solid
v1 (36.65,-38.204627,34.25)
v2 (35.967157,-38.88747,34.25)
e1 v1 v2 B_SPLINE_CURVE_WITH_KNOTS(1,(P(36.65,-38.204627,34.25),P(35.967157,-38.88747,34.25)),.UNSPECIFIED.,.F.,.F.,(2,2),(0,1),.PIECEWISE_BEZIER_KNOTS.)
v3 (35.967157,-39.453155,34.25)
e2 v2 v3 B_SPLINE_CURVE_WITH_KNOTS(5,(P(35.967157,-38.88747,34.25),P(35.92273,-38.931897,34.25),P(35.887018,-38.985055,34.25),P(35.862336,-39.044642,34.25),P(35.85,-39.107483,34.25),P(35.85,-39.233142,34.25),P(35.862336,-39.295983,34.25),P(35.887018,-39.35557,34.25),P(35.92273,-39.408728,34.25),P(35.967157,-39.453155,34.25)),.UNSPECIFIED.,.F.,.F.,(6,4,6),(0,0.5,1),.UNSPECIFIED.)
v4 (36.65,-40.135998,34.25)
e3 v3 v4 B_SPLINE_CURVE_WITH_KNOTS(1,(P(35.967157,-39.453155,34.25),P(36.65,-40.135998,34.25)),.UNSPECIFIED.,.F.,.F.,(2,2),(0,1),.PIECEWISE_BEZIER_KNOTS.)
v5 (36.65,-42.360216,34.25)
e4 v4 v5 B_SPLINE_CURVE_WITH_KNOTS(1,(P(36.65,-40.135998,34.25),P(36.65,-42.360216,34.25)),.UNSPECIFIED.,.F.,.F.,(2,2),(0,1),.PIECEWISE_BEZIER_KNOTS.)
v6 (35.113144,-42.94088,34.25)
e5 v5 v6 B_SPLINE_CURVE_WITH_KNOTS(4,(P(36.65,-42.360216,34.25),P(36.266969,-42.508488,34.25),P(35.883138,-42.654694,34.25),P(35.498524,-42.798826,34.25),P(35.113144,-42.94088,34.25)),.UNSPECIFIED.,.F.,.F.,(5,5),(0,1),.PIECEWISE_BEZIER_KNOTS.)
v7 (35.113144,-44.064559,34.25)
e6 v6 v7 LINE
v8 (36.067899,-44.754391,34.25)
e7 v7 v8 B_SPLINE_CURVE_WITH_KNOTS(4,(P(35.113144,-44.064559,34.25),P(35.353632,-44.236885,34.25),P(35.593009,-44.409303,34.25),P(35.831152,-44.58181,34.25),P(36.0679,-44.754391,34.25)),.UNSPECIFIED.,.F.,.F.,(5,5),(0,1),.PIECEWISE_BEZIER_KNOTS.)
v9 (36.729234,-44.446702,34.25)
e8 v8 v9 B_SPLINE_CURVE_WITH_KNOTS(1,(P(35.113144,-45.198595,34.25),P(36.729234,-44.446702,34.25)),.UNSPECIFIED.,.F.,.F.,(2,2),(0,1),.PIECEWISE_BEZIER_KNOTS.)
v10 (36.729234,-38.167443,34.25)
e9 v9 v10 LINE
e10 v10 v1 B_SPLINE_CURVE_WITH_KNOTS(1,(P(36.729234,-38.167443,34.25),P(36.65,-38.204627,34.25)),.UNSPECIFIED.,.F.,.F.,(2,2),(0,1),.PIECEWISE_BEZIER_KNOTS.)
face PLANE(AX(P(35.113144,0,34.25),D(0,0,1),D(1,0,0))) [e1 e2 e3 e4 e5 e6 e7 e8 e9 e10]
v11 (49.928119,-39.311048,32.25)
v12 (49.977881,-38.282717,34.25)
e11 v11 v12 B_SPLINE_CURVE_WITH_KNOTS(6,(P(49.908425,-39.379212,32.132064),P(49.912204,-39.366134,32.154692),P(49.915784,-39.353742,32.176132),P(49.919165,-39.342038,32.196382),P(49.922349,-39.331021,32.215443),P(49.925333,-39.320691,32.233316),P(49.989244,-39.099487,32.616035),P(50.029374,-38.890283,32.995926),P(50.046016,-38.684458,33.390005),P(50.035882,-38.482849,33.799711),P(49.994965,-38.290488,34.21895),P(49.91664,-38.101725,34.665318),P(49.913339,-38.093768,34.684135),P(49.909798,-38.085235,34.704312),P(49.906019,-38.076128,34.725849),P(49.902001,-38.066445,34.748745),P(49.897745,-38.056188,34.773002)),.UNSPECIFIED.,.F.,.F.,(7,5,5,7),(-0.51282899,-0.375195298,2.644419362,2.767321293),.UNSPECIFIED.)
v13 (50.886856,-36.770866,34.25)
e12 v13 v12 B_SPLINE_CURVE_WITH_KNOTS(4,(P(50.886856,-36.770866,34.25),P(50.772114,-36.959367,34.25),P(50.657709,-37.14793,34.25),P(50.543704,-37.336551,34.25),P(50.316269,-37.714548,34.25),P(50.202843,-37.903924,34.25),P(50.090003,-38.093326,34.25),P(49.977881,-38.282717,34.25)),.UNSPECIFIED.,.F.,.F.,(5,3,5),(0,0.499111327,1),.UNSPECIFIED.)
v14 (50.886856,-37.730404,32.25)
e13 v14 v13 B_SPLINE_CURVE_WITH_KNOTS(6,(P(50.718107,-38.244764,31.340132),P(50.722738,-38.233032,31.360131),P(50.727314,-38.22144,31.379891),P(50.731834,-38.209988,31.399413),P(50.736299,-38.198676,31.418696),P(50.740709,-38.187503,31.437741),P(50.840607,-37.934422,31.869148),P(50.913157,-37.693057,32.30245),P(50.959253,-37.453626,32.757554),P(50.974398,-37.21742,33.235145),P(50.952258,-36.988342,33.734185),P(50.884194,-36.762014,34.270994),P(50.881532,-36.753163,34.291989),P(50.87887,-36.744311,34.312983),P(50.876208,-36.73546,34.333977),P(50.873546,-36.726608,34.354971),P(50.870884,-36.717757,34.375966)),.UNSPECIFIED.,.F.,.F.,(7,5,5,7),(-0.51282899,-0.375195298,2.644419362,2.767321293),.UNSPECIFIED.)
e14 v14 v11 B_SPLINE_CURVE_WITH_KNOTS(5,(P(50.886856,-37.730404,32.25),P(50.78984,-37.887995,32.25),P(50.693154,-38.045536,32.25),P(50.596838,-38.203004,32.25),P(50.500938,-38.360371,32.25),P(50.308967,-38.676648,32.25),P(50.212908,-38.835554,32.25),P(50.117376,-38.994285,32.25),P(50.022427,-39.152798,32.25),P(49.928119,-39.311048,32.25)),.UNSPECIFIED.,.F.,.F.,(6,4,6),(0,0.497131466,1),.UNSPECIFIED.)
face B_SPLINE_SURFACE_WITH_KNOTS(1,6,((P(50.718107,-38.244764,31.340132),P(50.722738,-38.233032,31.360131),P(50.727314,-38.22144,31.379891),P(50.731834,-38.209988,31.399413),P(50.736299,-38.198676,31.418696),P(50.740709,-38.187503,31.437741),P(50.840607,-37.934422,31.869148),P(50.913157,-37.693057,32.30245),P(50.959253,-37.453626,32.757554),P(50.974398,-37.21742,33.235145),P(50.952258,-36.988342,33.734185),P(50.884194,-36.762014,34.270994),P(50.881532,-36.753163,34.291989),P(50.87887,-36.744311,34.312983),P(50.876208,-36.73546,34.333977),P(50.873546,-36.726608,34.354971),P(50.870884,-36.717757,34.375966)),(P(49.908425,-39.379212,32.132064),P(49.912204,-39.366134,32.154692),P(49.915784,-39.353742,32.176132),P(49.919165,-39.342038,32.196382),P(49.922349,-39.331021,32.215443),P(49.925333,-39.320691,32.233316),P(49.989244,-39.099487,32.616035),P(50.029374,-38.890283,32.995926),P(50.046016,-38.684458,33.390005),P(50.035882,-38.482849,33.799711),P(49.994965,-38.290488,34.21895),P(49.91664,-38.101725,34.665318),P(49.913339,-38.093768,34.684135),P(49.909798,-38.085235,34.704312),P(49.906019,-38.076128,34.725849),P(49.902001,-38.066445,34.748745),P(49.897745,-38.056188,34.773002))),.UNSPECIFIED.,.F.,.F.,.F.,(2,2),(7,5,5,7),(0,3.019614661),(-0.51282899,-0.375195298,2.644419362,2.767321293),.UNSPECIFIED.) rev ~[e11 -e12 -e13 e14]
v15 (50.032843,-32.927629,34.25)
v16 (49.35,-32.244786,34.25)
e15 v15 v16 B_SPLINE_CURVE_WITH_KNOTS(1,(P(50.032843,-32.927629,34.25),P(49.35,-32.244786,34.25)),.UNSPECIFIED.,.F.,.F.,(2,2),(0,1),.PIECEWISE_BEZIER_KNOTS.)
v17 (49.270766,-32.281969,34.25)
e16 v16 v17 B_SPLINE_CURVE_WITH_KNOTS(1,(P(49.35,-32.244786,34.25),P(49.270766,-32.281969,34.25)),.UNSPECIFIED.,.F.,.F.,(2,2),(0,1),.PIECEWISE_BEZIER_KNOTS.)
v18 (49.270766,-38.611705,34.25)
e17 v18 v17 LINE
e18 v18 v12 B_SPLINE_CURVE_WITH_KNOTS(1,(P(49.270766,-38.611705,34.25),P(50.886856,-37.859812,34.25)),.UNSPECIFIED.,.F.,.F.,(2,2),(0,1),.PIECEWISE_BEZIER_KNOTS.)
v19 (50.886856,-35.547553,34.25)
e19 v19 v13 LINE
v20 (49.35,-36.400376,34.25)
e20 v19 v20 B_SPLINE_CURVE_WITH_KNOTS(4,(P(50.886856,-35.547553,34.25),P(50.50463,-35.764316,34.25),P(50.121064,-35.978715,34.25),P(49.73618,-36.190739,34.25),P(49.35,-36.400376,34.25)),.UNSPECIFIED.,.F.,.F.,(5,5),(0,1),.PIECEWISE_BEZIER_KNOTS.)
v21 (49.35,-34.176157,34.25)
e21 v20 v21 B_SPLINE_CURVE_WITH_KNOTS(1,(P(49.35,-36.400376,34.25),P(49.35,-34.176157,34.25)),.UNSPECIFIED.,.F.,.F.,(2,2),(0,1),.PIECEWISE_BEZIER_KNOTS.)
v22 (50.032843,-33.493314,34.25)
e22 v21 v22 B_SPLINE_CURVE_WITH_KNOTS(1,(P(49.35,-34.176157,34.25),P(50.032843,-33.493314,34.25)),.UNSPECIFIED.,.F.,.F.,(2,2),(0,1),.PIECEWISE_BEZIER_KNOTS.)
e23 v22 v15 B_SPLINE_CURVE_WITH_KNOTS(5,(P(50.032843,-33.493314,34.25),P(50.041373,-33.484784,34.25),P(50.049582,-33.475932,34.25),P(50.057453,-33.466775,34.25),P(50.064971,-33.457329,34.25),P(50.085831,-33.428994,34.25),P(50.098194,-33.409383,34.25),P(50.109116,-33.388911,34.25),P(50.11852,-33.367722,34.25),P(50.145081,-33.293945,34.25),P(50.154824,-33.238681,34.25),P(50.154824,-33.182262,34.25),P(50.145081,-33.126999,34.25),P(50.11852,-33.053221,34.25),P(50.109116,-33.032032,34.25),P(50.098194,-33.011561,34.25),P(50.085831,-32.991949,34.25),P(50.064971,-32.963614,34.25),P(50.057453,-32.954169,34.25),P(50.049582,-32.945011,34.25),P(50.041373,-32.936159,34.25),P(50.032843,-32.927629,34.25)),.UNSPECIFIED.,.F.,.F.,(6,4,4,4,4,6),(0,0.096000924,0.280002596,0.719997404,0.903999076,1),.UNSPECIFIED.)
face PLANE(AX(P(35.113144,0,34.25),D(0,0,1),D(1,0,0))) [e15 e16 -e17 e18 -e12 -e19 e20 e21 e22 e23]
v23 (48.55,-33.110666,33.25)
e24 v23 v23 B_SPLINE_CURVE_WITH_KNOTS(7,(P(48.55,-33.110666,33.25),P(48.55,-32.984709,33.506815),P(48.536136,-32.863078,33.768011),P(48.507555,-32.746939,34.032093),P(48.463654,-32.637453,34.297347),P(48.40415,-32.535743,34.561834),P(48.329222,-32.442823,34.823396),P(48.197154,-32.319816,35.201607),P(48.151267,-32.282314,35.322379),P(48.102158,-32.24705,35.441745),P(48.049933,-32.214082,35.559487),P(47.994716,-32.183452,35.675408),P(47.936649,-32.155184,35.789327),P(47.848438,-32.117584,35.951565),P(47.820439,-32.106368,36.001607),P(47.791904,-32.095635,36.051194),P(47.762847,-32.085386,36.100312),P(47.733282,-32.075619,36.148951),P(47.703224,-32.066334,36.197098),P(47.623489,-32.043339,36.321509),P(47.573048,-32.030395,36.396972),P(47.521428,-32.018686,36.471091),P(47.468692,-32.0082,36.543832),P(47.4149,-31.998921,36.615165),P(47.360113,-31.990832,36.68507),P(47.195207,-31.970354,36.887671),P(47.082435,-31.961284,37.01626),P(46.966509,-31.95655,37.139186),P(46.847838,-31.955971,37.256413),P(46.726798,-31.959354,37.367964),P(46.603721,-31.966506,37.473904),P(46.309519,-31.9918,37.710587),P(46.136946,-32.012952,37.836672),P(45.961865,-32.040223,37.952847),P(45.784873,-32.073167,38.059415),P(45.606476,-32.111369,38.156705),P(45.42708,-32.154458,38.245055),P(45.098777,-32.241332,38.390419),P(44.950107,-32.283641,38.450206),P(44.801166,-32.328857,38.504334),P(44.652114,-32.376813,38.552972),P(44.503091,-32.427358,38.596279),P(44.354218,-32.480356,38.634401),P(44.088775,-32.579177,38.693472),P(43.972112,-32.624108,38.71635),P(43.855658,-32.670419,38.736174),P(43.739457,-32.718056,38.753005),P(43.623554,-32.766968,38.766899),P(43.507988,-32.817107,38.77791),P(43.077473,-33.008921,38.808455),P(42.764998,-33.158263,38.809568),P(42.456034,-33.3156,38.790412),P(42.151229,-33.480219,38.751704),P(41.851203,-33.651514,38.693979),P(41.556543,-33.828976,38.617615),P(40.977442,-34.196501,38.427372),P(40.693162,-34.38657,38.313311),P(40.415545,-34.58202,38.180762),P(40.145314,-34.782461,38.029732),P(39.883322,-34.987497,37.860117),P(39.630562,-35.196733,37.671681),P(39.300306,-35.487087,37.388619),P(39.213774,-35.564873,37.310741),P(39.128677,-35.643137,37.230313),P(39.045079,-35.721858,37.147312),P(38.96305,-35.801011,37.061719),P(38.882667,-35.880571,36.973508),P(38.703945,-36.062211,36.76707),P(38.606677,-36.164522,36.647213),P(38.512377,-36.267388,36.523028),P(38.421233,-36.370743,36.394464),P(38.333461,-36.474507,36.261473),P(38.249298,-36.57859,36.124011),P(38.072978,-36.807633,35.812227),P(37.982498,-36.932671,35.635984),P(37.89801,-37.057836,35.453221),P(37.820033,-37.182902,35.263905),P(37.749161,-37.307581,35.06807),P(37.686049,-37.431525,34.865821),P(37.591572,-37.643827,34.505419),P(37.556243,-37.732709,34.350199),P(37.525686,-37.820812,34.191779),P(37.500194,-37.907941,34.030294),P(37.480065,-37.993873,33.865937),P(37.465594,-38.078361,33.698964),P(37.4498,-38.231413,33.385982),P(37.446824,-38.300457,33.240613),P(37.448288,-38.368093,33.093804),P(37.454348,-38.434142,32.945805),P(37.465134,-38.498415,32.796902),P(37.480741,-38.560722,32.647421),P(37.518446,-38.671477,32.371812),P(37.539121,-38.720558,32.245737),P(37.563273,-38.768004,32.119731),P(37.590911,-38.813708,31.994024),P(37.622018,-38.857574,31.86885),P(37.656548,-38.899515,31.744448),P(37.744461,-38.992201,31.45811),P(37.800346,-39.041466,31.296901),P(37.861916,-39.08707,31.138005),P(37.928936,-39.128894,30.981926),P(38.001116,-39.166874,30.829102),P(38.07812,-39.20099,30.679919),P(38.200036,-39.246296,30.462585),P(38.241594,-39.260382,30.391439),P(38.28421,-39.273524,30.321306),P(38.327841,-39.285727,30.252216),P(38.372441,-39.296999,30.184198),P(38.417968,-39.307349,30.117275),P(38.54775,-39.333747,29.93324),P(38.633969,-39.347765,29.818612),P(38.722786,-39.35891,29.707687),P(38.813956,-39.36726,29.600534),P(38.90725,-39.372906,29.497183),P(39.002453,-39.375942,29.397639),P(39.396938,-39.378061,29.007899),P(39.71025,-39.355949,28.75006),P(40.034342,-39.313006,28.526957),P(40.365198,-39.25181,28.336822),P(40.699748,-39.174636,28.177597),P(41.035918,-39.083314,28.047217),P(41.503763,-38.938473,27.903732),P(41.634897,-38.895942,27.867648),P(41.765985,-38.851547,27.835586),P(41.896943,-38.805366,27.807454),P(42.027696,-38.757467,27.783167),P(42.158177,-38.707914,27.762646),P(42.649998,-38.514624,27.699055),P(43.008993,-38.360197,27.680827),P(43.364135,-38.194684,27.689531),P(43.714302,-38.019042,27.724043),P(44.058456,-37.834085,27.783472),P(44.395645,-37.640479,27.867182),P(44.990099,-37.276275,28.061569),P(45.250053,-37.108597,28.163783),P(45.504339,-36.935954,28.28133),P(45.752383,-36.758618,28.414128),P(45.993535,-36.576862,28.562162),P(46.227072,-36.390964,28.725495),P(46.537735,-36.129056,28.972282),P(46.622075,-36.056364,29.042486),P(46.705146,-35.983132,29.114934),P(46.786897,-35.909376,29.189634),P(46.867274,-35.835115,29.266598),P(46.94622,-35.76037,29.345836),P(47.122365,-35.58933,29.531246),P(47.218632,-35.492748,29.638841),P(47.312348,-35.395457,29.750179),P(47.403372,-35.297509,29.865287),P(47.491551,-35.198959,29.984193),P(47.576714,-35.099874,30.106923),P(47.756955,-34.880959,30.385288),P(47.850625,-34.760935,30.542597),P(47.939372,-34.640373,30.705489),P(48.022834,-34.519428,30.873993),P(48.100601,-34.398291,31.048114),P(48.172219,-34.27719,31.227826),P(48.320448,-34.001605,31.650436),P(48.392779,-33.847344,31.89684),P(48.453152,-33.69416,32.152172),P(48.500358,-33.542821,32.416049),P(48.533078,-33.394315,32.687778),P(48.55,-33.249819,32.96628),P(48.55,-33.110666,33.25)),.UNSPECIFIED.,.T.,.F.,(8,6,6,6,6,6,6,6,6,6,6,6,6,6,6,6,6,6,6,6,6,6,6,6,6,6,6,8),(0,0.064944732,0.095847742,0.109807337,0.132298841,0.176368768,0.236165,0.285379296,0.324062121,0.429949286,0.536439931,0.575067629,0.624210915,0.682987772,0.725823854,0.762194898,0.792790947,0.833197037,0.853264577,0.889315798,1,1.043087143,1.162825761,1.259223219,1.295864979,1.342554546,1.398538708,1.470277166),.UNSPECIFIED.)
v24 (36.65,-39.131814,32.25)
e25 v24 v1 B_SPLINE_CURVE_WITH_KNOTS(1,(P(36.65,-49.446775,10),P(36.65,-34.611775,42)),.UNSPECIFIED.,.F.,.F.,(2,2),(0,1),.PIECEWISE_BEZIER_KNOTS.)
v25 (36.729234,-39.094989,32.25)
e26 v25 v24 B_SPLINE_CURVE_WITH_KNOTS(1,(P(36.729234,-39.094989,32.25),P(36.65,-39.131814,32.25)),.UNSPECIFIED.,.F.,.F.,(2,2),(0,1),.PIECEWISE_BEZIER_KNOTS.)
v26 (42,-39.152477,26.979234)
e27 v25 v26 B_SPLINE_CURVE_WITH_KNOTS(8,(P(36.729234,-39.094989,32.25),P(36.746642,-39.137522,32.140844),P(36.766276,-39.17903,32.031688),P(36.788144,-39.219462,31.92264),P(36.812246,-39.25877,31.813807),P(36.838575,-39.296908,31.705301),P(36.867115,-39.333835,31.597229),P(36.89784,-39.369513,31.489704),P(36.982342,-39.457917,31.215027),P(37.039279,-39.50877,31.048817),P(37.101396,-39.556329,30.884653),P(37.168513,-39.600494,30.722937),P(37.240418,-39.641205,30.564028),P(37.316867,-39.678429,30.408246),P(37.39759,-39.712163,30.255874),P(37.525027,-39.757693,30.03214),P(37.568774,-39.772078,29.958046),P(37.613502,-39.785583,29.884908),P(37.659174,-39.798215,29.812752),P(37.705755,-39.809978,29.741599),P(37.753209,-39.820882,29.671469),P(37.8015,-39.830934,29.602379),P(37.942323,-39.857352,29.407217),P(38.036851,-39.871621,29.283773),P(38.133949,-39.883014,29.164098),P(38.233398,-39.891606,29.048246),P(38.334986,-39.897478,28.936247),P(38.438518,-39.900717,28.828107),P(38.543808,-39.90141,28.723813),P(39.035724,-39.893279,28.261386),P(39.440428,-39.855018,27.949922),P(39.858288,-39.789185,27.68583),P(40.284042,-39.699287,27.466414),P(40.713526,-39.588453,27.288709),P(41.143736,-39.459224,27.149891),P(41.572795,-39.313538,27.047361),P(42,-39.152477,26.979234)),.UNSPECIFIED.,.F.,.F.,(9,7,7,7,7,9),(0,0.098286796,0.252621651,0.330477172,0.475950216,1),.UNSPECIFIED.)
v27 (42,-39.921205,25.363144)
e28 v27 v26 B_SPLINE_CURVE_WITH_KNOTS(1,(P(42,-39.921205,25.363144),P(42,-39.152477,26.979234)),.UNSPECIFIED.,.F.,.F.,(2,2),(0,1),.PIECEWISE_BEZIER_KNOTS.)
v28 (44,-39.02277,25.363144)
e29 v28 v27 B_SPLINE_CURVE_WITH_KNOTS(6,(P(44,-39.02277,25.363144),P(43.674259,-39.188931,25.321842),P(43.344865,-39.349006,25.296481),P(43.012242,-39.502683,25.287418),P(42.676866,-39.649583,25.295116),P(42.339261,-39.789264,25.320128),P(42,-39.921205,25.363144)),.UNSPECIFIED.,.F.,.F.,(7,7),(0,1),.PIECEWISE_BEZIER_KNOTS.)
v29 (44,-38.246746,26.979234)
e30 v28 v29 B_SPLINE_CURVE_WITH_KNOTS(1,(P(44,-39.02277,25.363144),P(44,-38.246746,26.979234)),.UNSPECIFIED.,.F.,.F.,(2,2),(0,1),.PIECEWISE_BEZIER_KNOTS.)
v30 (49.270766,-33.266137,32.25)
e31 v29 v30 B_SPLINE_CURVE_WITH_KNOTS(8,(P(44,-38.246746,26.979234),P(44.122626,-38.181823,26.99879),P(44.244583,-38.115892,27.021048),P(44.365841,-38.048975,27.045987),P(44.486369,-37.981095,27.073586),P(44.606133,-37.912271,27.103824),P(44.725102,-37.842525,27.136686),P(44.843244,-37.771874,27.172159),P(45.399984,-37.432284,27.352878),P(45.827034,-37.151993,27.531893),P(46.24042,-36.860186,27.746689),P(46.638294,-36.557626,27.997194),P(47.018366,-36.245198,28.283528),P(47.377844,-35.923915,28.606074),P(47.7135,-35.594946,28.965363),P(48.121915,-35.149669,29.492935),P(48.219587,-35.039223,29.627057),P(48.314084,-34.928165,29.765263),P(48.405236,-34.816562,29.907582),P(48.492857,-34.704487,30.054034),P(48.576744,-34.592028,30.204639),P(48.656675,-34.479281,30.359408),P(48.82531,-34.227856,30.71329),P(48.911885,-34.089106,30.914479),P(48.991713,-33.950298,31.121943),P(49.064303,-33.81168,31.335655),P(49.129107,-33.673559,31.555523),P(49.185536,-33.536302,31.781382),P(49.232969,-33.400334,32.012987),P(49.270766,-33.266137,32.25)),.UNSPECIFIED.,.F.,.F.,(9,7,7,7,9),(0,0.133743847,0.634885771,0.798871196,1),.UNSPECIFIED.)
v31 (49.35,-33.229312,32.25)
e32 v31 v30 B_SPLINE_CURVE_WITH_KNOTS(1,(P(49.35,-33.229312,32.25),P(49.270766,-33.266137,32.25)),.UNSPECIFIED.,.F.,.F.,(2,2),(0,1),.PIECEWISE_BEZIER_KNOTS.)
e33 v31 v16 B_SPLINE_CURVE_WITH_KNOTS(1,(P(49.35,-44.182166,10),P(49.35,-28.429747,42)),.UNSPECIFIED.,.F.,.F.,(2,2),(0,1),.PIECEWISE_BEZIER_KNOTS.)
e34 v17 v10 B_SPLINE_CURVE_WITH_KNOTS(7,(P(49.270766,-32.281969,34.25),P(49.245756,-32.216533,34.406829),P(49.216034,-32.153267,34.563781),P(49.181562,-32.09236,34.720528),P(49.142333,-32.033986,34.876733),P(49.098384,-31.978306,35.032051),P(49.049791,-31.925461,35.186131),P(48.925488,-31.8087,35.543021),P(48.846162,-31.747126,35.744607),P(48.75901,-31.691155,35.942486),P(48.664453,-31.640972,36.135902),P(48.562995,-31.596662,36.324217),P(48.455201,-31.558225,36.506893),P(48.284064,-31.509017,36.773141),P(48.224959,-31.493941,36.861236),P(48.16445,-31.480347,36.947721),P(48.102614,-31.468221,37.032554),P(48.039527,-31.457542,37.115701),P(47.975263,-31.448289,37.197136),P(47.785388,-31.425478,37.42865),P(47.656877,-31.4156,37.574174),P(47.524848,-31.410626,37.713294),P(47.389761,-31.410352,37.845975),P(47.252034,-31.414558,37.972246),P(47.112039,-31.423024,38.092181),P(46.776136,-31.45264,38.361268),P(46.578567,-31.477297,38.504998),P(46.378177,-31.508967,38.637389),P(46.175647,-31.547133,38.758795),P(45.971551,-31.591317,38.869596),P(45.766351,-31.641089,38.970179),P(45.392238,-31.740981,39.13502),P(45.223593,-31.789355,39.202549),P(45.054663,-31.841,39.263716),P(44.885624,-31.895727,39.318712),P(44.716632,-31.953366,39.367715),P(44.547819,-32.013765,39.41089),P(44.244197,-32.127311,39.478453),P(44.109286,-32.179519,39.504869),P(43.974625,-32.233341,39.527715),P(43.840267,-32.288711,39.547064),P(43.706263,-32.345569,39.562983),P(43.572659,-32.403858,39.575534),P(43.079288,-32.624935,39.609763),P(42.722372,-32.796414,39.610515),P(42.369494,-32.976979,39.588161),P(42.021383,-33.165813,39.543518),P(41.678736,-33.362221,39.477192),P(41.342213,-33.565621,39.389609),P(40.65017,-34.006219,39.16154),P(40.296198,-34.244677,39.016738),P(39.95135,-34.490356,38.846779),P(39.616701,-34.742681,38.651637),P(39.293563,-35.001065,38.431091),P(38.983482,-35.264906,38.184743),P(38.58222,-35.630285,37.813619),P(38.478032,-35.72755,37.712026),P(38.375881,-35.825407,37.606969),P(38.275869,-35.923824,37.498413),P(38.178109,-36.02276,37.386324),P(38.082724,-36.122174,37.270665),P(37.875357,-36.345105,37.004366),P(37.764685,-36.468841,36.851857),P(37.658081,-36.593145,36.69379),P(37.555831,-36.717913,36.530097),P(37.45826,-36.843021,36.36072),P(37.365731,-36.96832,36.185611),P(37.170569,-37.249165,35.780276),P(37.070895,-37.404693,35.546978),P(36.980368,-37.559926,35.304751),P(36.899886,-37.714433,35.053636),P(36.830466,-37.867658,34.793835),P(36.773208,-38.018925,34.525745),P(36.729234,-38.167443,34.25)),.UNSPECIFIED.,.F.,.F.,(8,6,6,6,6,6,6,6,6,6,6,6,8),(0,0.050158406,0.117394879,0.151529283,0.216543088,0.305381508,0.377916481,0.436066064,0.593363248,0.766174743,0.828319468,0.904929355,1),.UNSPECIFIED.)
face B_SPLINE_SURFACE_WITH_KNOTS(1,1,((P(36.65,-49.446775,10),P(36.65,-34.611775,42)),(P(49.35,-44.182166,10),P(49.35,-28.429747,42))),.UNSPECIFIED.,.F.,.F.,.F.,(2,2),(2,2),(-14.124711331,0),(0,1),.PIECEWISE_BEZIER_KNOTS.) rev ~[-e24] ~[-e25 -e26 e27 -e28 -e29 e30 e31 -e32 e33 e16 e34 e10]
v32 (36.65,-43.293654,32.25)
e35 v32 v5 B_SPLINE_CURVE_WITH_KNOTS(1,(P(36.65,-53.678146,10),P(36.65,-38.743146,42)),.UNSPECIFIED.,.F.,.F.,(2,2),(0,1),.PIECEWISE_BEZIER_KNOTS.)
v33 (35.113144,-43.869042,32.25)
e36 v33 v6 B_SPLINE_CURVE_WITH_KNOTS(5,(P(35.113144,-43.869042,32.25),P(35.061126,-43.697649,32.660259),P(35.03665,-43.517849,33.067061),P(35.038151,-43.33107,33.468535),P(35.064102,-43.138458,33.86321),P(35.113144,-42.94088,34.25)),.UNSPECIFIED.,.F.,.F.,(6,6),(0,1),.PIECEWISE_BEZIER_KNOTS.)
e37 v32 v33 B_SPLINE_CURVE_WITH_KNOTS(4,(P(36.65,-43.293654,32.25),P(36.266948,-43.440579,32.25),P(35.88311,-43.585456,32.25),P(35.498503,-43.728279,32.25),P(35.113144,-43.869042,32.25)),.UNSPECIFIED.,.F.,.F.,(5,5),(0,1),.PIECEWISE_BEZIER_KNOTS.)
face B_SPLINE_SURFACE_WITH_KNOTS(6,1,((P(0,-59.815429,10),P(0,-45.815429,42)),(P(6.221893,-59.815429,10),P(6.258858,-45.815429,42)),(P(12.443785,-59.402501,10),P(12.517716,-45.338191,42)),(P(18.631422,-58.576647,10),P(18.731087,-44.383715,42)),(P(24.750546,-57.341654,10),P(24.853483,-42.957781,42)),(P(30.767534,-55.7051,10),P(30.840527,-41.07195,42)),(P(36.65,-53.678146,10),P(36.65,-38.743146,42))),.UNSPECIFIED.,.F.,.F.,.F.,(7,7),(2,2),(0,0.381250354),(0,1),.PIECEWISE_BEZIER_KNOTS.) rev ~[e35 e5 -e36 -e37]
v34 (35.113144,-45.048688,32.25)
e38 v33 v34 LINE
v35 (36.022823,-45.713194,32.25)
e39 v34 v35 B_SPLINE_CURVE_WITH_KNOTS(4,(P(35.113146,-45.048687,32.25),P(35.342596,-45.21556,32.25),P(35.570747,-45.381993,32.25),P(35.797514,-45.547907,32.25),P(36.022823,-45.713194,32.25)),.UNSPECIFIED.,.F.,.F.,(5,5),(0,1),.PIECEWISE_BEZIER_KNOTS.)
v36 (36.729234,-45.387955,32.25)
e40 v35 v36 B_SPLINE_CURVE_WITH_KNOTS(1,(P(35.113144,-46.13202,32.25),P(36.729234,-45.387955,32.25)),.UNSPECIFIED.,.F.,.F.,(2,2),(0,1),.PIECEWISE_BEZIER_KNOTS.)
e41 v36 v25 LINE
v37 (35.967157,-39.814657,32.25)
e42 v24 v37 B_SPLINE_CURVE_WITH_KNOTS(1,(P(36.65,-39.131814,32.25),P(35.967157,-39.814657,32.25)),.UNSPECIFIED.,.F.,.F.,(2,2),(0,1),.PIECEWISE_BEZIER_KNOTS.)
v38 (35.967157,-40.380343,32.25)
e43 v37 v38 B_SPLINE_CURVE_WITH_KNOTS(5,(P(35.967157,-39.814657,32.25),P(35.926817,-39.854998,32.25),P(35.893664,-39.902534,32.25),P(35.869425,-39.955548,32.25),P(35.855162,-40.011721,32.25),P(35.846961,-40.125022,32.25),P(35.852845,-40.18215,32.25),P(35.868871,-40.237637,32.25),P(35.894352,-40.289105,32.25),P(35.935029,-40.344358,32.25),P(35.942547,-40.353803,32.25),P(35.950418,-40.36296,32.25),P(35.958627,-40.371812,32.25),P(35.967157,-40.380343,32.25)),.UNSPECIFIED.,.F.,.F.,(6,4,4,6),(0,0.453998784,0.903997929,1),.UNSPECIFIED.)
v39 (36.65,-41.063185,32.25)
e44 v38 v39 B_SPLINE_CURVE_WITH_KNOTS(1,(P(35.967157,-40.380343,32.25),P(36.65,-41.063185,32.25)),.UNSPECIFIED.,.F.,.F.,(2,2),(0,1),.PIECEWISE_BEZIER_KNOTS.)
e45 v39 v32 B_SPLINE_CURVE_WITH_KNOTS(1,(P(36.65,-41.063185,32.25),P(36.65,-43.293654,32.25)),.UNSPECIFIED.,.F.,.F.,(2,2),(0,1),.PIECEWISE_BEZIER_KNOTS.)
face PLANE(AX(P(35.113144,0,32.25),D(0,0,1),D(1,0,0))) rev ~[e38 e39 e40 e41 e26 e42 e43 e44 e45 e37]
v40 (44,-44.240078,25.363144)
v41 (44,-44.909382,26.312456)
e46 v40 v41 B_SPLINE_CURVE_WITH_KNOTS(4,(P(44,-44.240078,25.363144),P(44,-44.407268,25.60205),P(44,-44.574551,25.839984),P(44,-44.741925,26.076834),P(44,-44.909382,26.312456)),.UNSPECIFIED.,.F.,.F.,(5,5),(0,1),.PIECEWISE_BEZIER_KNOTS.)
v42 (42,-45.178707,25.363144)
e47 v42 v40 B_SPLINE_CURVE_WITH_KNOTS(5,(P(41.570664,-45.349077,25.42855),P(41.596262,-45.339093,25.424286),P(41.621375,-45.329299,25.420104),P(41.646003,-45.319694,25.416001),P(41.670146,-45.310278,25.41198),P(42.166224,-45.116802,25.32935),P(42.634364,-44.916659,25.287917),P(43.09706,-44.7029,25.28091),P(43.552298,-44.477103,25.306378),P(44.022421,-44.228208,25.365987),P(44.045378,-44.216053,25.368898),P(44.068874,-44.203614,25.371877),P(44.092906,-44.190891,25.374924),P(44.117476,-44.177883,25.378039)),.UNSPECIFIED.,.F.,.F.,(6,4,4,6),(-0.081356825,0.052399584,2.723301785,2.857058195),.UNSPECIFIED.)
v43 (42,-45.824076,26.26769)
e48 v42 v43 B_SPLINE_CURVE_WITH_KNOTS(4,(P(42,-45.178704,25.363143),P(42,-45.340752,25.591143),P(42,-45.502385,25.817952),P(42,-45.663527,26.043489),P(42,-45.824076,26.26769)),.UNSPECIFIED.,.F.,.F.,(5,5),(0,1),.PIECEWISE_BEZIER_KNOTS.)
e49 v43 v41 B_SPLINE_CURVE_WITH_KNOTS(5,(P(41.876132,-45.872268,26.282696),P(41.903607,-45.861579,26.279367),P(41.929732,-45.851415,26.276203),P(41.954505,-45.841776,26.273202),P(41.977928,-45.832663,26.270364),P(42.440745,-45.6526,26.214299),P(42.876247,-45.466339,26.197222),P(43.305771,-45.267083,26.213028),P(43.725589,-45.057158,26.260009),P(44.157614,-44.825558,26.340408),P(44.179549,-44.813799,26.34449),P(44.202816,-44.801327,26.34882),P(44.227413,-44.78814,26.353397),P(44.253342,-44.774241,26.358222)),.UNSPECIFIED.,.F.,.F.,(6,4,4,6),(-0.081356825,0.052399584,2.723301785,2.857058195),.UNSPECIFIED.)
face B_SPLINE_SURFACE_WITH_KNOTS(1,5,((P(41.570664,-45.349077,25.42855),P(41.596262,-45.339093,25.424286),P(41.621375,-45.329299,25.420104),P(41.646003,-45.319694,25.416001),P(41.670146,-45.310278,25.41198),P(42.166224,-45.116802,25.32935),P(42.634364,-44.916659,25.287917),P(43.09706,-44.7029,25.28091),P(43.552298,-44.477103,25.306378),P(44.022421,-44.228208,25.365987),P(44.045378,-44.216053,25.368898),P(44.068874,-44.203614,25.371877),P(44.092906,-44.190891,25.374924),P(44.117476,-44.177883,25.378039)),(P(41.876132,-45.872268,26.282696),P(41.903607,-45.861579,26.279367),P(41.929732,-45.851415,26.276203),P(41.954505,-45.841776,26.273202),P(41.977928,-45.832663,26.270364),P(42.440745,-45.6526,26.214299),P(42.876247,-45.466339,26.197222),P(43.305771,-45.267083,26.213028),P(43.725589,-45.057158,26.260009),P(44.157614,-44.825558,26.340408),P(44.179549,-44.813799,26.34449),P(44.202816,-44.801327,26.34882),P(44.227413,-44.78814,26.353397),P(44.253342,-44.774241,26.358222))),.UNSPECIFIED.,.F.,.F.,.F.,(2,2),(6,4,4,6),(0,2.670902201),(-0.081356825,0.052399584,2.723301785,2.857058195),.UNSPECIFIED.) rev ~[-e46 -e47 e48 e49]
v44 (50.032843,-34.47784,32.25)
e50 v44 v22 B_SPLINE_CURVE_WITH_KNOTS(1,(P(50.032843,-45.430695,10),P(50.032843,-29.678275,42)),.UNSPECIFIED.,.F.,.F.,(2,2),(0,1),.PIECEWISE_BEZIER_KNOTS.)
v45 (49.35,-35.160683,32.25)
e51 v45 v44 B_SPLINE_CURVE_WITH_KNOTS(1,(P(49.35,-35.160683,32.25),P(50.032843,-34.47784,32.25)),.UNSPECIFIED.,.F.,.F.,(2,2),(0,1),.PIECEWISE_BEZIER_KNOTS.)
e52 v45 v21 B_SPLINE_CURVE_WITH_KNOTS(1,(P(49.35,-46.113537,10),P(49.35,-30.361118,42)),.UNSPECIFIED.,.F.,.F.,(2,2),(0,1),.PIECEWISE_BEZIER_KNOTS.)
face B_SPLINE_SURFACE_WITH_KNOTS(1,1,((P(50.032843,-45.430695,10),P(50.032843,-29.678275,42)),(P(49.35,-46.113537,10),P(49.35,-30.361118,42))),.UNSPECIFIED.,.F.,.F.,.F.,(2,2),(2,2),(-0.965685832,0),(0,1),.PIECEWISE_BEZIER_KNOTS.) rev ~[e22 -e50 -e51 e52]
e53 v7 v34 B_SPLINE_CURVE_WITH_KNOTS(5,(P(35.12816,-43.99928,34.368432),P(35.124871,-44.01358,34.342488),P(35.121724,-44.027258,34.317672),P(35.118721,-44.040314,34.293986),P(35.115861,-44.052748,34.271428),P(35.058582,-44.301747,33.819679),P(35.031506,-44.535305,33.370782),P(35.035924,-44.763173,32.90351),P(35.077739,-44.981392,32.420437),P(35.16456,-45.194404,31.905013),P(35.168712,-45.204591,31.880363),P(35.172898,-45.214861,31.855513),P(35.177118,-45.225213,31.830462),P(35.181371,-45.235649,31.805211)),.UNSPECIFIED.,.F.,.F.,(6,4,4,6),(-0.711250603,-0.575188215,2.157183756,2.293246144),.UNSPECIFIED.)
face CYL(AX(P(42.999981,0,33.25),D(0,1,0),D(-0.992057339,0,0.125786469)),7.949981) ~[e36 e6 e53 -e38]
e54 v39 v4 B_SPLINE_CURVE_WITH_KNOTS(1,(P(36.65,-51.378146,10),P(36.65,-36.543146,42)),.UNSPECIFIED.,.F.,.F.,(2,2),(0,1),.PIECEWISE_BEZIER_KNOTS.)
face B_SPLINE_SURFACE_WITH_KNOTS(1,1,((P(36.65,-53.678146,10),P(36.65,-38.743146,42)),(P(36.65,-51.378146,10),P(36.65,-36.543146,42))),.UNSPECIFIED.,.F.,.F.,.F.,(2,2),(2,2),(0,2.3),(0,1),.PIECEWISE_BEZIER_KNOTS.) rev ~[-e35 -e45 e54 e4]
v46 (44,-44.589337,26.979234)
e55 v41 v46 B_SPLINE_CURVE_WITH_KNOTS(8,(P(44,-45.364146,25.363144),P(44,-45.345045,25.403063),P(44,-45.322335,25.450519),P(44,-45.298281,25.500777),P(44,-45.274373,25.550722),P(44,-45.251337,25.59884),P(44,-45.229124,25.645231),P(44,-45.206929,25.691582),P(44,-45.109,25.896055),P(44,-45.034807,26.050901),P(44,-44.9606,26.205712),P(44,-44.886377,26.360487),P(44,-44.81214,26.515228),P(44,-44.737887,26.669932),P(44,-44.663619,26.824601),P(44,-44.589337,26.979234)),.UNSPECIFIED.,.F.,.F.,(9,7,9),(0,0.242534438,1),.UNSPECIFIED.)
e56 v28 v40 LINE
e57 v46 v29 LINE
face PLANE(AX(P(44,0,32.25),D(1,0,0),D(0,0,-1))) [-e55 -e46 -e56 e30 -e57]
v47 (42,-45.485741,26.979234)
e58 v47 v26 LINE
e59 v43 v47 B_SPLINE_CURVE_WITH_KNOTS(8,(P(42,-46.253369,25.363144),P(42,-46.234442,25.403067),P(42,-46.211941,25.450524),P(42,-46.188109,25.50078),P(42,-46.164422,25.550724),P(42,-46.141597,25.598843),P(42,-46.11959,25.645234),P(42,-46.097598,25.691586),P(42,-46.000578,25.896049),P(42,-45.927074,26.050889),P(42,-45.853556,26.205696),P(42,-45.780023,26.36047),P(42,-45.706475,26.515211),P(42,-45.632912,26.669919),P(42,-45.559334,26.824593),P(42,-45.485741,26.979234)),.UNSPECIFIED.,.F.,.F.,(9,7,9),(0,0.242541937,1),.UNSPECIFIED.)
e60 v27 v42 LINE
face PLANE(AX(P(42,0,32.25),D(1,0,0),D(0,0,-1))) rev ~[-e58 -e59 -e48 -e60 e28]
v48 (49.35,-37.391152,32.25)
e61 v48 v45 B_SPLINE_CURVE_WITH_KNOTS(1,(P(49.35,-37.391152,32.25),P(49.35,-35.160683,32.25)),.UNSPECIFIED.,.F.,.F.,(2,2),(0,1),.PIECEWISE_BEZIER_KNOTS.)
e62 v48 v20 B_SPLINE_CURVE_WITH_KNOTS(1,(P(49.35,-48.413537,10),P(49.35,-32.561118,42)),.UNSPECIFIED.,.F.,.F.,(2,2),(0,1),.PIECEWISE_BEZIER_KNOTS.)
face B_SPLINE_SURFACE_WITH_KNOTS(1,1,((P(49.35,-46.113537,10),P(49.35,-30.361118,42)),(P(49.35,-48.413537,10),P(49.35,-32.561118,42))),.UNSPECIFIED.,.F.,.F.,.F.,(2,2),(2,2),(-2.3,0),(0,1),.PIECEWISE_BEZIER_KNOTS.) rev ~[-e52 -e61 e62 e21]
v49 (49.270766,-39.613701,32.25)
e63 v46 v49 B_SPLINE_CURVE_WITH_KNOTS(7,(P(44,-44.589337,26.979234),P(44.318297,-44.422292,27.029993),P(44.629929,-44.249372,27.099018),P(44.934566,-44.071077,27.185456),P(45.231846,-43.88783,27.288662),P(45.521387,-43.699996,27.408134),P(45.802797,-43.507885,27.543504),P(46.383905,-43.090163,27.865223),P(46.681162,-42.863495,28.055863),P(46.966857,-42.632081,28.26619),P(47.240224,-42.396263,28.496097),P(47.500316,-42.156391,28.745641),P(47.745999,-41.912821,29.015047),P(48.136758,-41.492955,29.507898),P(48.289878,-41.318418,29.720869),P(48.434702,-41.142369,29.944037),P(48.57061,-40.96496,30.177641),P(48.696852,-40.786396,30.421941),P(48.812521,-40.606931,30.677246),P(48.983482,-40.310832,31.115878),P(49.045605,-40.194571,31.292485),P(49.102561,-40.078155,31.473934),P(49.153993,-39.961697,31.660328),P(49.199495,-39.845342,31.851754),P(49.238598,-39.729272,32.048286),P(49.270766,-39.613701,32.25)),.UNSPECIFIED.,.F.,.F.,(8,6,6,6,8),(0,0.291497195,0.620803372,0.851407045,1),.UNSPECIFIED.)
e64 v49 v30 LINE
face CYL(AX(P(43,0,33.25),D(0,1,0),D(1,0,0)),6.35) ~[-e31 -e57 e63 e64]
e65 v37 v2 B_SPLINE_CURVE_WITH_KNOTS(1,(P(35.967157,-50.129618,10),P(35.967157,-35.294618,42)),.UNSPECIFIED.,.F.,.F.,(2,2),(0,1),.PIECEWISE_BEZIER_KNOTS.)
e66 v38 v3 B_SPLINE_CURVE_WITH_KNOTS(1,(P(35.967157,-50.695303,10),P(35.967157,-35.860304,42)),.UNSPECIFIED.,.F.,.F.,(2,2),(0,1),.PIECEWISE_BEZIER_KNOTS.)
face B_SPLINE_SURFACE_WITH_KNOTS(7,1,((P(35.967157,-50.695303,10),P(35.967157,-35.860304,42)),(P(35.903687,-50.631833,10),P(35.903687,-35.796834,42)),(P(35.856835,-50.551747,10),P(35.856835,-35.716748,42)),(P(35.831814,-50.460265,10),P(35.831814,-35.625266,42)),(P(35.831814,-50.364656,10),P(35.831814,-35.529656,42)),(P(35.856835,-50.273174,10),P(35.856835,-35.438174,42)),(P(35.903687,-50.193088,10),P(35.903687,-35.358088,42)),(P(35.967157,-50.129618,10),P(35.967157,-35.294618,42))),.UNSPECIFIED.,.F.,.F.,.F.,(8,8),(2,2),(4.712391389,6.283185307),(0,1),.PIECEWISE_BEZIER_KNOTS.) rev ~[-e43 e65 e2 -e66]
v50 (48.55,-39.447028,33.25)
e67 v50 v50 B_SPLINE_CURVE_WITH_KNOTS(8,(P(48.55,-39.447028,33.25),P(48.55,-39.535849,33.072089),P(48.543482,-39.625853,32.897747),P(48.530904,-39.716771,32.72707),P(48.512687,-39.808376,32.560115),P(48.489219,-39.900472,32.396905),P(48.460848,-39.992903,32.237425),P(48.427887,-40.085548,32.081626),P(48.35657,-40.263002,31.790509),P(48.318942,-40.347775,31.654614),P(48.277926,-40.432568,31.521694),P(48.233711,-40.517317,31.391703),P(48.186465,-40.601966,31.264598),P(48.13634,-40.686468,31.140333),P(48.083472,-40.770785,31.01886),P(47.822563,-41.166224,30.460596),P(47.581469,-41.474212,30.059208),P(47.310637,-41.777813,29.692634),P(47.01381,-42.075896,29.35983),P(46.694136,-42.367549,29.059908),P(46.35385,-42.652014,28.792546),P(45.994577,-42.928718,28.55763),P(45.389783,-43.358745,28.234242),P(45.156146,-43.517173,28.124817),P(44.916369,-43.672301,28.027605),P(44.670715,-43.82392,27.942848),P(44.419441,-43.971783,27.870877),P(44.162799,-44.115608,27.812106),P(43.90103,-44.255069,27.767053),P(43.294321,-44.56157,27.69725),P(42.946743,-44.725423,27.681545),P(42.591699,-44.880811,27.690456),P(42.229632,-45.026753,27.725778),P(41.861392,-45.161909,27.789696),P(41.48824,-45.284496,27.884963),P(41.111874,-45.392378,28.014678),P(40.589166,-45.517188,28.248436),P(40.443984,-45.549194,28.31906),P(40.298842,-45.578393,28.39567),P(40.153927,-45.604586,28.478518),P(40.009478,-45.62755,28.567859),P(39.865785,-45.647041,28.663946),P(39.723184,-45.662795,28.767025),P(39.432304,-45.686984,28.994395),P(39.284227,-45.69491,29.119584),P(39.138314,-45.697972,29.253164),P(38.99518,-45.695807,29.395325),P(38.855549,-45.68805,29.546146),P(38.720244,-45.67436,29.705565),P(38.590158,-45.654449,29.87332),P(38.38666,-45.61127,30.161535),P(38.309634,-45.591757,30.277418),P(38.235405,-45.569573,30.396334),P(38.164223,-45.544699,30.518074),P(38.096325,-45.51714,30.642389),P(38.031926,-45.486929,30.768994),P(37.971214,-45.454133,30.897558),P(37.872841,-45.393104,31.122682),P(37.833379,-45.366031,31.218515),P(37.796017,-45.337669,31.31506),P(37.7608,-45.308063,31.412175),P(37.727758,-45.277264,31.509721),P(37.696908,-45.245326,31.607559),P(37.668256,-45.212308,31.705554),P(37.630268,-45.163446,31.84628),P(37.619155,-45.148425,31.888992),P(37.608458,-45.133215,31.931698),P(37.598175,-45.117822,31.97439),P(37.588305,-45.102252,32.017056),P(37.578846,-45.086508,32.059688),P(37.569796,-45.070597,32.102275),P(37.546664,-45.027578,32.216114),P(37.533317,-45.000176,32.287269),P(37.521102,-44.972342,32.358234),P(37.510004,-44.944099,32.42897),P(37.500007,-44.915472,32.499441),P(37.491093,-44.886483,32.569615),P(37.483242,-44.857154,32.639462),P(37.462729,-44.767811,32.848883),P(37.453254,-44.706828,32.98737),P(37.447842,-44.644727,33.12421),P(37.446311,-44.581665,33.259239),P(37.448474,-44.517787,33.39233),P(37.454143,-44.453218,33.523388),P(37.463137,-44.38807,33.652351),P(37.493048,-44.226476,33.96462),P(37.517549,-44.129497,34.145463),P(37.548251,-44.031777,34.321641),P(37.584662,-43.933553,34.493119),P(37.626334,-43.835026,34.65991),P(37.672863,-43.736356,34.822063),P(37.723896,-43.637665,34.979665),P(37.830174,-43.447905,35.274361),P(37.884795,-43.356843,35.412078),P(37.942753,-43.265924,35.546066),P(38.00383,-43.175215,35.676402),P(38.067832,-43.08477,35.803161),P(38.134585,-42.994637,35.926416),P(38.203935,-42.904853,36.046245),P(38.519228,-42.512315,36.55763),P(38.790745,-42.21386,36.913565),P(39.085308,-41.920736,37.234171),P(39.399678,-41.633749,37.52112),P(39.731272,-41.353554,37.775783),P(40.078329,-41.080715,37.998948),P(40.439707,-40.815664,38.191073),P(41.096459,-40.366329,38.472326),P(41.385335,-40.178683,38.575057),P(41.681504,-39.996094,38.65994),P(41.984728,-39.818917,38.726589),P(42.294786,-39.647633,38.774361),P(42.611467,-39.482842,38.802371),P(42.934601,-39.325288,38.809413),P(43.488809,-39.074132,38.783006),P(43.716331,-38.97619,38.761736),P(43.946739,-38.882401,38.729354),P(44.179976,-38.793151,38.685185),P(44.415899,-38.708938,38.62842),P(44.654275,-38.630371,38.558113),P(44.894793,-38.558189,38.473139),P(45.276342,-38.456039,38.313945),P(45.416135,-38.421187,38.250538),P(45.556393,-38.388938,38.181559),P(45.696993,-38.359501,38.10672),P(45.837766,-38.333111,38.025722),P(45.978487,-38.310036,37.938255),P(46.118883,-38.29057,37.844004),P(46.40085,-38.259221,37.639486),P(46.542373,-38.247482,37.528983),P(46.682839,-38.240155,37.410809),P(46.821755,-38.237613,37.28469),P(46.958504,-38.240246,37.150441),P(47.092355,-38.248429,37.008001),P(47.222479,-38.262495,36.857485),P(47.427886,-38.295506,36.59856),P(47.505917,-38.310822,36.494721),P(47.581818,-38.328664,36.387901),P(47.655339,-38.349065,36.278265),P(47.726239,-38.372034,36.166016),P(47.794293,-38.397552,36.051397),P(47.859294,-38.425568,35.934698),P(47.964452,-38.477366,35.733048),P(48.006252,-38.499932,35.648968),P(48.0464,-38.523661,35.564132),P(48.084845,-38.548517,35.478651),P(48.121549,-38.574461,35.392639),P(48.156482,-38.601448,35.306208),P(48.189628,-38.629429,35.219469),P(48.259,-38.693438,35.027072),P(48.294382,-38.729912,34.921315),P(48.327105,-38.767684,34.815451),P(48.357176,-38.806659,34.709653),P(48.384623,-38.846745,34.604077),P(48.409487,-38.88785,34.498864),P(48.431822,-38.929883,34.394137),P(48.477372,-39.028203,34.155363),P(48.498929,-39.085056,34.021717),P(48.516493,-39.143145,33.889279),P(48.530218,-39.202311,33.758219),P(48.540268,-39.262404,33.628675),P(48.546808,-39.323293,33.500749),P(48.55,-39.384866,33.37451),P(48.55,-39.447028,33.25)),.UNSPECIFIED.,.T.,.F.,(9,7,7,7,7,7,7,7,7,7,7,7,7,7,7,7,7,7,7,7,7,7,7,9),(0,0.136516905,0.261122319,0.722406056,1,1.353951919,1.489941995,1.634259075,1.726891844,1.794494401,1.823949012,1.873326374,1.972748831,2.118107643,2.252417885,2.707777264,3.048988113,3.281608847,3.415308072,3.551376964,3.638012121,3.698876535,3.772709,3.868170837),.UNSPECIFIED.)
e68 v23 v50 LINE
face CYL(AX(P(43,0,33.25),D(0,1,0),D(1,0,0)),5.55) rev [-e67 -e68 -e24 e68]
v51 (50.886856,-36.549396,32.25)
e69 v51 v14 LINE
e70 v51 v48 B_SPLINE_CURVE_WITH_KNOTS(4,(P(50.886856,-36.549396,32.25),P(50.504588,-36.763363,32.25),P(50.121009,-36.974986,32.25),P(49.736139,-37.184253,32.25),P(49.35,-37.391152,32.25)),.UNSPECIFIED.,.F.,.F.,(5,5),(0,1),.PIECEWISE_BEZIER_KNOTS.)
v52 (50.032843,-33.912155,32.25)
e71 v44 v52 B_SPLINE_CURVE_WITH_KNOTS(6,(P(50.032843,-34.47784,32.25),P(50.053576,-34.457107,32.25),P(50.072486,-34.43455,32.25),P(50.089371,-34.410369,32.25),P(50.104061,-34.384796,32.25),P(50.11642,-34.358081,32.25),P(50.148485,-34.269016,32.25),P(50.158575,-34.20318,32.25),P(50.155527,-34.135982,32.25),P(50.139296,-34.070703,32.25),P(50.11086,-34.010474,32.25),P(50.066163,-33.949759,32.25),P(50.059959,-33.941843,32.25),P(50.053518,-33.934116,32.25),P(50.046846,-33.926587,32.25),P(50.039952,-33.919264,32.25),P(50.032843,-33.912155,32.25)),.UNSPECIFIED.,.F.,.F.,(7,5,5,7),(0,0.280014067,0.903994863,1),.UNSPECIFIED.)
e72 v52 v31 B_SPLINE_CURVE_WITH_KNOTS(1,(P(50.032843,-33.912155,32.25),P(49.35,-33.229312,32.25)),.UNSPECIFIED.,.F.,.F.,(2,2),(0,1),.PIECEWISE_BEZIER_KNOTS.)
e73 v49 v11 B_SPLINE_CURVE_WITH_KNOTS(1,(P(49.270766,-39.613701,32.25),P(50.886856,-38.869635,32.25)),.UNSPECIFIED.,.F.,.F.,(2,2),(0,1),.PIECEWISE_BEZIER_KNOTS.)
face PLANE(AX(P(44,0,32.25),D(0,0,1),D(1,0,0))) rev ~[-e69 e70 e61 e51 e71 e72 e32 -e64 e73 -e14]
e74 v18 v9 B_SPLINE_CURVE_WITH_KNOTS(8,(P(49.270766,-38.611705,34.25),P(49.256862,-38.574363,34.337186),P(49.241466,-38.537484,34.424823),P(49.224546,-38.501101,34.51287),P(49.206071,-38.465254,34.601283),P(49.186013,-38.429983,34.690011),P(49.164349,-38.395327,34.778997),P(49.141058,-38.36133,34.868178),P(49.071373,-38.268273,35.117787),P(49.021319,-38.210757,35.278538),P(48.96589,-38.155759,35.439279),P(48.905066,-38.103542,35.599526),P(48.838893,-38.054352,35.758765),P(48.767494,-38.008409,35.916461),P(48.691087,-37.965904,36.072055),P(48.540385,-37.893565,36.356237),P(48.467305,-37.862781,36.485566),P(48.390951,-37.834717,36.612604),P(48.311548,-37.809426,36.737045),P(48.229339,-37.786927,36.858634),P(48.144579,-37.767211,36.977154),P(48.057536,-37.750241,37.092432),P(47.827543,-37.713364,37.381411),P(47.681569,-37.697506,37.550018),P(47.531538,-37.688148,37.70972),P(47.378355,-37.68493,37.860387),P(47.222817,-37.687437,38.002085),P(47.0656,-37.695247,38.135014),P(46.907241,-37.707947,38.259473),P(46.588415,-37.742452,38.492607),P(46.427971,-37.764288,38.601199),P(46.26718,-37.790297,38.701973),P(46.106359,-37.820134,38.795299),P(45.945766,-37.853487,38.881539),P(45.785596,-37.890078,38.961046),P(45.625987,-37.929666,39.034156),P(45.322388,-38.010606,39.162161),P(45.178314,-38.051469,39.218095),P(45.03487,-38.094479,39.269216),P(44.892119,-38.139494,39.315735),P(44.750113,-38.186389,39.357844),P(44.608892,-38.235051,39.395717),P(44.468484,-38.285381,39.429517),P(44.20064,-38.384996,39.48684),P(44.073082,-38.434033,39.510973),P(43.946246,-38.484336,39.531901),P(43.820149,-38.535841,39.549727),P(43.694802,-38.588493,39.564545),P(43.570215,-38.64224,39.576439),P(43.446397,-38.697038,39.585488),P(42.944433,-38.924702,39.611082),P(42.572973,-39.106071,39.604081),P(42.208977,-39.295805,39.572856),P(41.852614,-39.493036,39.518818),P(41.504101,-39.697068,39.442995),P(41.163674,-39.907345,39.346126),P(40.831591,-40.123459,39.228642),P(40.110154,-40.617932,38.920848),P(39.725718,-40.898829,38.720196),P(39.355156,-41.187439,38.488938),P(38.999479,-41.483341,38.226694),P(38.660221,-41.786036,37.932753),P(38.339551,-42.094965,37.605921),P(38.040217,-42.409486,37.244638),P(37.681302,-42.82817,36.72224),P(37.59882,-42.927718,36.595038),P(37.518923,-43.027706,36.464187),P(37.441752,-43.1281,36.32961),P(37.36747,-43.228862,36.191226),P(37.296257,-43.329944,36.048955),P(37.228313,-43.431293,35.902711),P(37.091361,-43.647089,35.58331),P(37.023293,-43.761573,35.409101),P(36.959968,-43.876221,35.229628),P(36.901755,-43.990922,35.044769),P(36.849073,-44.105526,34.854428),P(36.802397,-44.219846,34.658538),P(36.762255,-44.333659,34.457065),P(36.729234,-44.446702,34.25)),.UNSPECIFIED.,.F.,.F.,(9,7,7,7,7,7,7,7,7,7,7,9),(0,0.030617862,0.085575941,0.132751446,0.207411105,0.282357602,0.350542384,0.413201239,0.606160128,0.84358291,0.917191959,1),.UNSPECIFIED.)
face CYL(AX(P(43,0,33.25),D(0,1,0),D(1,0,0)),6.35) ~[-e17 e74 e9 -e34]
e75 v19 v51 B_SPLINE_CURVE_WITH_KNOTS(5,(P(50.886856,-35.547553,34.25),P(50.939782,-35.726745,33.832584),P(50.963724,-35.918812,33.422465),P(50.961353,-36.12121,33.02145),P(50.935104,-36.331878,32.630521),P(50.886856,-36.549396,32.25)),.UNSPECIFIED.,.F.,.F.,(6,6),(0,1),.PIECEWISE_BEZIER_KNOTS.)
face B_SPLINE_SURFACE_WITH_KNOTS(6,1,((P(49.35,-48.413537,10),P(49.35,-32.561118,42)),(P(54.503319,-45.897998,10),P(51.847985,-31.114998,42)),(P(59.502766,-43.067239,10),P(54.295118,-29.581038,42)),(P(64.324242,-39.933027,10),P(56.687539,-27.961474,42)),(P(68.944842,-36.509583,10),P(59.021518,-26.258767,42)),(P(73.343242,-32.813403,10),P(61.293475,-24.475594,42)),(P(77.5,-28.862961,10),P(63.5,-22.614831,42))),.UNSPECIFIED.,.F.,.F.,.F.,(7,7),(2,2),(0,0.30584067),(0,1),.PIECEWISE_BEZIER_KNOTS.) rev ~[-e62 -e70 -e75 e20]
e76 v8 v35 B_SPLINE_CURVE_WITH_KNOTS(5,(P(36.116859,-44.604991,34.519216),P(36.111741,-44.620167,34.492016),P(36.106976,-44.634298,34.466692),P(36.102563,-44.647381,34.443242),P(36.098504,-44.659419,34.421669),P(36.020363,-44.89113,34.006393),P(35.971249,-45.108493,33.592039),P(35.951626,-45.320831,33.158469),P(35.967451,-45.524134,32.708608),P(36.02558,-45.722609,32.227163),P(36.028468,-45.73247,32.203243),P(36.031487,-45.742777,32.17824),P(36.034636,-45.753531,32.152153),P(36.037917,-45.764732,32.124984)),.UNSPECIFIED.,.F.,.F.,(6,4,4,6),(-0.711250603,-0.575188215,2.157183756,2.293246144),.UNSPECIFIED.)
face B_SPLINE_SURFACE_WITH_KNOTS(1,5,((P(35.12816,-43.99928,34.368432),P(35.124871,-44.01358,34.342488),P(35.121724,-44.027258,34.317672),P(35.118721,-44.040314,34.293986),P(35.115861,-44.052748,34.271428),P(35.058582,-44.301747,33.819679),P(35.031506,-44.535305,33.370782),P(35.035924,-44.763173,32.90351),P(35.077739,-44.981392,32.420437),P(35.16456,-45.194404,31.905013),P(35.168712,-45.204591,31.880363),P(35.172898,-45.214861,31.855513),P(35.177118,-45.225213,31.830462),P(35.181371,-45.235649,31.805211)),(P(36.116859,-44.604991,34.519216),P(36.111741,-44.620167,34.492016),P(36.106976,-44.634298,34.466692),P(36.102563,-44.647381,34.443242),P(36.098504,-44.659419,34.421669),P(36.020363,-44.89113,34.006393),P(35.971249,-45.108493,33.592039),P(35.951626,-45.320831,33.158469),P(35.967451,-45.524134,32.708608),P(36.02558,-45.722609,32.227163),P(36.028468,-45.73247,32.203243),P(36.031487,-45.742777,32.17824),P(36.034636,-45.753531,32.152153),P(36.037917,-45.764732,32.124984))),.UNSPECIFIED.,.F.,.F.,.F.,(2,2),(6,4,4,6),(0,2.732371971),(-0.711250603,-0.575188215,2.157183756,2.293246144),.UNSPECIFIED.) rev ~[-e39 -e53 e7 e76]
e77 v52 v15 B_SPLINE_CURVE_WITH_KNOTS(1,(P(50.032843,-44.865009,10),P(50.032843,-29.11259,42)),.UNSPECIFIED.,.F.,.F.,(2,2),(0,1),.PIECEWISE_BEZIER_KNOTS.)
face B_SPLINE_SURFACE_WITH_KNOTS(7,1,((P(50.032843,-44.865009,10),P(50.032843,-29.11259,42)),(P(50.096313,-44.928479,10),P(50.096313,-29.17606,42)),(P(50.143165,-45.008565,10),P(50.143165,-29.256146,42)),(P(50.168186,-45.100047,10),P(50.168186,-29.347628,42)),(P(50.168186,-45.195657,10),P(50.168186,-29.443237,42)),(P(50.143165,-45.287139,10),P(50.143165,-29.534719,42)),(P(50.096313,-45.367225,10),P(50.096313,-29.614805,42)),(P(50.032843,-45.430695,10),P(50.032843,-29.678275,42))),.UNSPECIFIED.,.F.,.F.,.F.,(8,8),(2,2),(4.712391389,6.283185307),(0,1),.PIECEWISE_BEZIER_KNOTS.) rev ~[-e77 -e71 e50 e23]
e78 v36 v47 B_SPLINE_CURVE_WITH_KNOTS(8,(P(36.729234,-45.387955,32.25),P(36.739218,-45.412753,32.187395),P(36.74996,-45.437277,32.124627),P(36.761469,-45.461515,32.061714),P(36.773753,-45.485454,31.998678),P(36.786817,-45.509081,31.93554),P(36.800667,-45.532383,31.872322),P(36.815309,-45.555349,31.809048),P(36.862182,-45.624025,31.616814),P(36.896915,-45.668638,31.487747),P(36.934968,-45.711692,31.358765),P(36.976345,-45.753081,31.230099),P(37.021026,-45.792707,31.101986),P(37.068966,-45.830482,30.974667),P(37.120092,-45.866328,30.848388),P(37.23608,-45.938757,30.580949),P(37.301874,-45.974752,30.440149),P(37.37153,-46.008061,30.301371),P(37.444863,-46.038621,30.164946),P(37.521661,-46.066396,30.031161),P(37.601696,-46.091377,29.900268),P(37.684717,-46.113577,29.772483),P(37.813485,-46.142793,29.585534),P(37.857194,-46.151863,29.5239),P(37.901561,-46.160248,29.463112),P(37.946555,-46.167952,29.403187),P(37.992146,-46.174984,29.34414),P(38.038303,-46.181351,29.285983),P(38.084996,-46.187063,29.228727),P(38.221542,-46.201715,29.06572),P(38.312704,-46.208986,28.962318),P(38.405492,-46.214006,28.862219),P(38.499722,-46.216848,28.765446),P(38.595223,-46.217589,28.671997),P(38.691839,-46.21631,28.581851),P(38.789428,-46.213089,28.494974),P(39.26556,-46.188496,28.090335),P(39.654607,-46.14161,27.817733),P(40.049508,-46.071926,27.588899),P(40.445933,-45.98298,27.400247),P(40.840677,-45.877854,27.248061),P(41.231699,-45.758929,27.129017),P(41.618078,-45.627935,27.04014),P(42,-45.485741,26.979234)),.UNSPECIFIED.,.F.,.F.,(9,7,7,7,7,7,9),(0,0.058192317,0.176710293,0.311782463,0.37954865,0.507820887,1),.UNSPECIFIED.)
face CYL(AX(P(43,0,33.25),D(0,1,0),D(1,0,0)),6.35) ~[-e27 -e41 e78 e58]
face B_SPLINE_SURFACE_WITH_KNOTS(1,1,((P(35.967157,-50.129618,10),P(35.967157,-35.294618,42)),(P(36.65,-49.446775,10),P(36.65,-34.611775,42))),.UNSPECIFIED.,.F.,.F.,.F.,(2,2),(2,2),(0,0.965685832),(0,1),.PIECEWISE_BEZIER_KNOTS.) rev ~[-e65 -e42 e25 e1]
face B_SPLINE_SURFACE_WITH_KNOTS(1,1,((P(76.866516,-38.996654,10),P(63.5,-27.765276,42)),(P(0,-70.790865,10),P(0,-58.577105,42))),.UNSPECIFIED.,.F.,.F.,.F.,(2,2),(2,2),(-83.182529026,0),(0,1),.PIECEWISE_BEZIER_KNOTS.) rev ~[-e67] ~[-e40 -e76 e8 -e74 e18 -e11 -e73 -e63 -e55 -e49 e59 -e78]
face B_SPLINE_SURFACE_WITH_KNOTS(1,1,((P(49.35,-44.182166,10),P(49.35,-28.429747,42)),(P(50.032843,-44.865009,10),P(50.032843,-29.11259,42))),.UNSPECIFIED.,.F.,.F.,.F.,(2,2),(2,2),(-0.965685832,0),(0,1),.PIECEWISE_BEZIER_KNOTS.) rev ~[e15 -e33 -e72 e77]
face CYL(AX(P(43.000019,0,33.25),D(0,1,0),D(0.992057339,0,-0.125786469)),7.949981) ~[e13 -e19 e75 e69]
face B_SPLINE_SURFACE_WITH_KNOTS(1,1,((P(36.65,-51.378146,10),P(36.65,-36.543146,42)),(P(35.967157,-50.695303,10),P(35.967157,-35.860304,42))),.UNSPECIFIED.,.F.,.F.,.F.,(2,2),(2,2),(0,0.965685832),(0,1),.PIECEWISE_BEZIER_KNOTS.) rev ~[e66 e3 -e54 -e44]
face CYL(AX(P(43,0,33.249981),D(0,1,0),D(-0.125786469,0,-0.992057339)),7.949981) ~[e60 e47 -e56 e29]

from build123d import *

# Parameters (mm, degrees)
SKETCH004_R       = 6.35
PAD001_DEPTH      = 85
PAD002_DEPTH      = 85
SKETCH016_R       = 5.55
POCKET_DEPTH      = 0.001
POCKET_DEPTH_BACK = 85.001
CHAMFER001_SIZE   = 1


with BuildPart() as part:
    # Sketch004 → Pad001 (new body)
    with BuildSketch(Plane.XZ):
        with Locations((43, 33.25)):
            Circle(SKETCH004_R)
    extrude(amount=PAD001_DEPTH)

    # Sketch017 → Pad002 (join)
    with BuildSketch(Plane.XZ):
        with BuildLine():
            Line((35.113144, 34.25), (50.886856, 34.25))
            ThreePointArc((50.886856, 32.25), (50.95, 33.25), (50.886856, 34.25))
            Line((44, 32.25), (50.886856, 32.25))
            Line((44, 32.25), (44, 25.363144))
            ThreePointArc((42, 25.363144), (43, 25.3), (44, 25.363144))
            Line((42, 32.25), (42, 25.363144))
            Line((35.113144, 32.25), (42, 32.25))
            ThreePointArc((35.113144, 34.25), (35.05, 33.25), (35.113144, 32.25))
        make_face()
    extrude(amount=PAD002_DEPTH)

    # Sketch016 → Pocket (cut, two sides)
    with BuildSketch(Plane.XZ) as pocket_sk:
        with Locations((43, 33.25)):
            Circle(SKETCH016_R)
    extrude(amount=-POCKET_DEPTH, mode=Mode.SUBTRACT)
    extrude(pocket_sk.sketch, amount=POCKET_DEPTH_BACK, mode=Mode.SUBTRACT)

    # Sketch014 (on DatumPlane) → SubtractiveLoft001 section 0
    with BuildSketch(Plane.XY.offset(10)):
        with BuildLine():
            Line((-2, 2), (-2, -87))
            Line((-2, -87), (76.866516, -87))
            Line((76.866516, -38.996654), (76.866516, -87))
            Line((0, -70.790865), (76.866516, -38.996654))
            Line((0, -70.790865), (0, -59.815429))
            ThreePointArc((0, -59.815429), (18.580156, -58.2705), (36.65, -53.678146))
            Line((36.65, -53.678146), (36.65, -51.378146))
            Line((36.65, -51.378146), (35.967157, -50.695303))
            ThreePointArc((35.967157, -50.129618), (35.85, -50.41246), (35.967157, -50.695303))
            Line((35.967157, -50.129618), (36.65, -49.446775))
            Line((36.65, -49.446775), (49.35, -44.182166))
            Line((50.032843, -44.865009), (49.35, -44.182166))
            ThreePointArc((50.032843, -45.430695), (50.15, -45.147852), (50.032843, -44.865009))
            Line((49.35, -46.113537), (50.032843, -45.430695))
            Line((49.35, -48.413537), (49.35, -46.113537))
            ThreePointArc((49.35, -48.413537), (64.17388, -39.716528), (77.5, -28.862961))
            Line((77.5, 2), (77.5, -28.862961))
            Line((-2, 2), (77.5, 2))
        make_face()
    # Sketch015 (on DatumPlane) → SubtractiveLoft001 section 1
    with BuildSketch(Plane.XY.offset(42)):
        with BuildLine():
            Line((-2, 2), (-2, -87))
            Line((-2, -87), (63.5, -87))
            Line((63.5, -87), (63.5, -27.765276))
            Line((0, -58.577105), (63.5, -27.765276))
            Line((0, -58.577105), (0, -45.815429))
            ThreePointArc((0, -45.815429), (18.663063, -44.031199), (36.65, -38.743146))
            Line((36.65, -38.743146), (36.65, -36.543146))
            Line((36.65, -36.543146), (35.967157, -35.860304))
            ThreePointArc((35.967157, -35.294618), (35.85, -35.577461), (35.967157, -35.860304))
            Line((35.967157, -35.294618), (36.65, -34.611775))
            Line((49.35, -28.429747), (36.65, -34.611775))
            Line((50.032843, -29.11259), (49.35, -28.429747))
            ThreePointArc((50.032843, -29.678275), (50.15, -29.395433), (50.032843, -29.11259))
            Line((49.35, -30.361118), (50.032843, -29.678275))
            Line((49.35, -30.361118), (49.35, -32.561118))
            ThreePointArc((49.35, -32.561118), (56.643736, -27.899157), (63.5, -22.614831))
            Line((63.5, 2), (63.5, -22.614831))
            Line((63.5, 2), (-2, 2))
        make_face()
    loft(mode=Mode.SUBTRACT)

    # Chamfer001
    chamfer001_edges = [part.edges().sort_by_distance(p)[0] for p in [
        (35.050008, -45.689757, 33.261359),
        (43.011121, -45.833884, 25.300008),
        (50.934027, -38.597846, 32.746296),
    ]]
    chamfer(chamfer001_edges, length=CHAMFER001_SIZE)


solid = part.part
